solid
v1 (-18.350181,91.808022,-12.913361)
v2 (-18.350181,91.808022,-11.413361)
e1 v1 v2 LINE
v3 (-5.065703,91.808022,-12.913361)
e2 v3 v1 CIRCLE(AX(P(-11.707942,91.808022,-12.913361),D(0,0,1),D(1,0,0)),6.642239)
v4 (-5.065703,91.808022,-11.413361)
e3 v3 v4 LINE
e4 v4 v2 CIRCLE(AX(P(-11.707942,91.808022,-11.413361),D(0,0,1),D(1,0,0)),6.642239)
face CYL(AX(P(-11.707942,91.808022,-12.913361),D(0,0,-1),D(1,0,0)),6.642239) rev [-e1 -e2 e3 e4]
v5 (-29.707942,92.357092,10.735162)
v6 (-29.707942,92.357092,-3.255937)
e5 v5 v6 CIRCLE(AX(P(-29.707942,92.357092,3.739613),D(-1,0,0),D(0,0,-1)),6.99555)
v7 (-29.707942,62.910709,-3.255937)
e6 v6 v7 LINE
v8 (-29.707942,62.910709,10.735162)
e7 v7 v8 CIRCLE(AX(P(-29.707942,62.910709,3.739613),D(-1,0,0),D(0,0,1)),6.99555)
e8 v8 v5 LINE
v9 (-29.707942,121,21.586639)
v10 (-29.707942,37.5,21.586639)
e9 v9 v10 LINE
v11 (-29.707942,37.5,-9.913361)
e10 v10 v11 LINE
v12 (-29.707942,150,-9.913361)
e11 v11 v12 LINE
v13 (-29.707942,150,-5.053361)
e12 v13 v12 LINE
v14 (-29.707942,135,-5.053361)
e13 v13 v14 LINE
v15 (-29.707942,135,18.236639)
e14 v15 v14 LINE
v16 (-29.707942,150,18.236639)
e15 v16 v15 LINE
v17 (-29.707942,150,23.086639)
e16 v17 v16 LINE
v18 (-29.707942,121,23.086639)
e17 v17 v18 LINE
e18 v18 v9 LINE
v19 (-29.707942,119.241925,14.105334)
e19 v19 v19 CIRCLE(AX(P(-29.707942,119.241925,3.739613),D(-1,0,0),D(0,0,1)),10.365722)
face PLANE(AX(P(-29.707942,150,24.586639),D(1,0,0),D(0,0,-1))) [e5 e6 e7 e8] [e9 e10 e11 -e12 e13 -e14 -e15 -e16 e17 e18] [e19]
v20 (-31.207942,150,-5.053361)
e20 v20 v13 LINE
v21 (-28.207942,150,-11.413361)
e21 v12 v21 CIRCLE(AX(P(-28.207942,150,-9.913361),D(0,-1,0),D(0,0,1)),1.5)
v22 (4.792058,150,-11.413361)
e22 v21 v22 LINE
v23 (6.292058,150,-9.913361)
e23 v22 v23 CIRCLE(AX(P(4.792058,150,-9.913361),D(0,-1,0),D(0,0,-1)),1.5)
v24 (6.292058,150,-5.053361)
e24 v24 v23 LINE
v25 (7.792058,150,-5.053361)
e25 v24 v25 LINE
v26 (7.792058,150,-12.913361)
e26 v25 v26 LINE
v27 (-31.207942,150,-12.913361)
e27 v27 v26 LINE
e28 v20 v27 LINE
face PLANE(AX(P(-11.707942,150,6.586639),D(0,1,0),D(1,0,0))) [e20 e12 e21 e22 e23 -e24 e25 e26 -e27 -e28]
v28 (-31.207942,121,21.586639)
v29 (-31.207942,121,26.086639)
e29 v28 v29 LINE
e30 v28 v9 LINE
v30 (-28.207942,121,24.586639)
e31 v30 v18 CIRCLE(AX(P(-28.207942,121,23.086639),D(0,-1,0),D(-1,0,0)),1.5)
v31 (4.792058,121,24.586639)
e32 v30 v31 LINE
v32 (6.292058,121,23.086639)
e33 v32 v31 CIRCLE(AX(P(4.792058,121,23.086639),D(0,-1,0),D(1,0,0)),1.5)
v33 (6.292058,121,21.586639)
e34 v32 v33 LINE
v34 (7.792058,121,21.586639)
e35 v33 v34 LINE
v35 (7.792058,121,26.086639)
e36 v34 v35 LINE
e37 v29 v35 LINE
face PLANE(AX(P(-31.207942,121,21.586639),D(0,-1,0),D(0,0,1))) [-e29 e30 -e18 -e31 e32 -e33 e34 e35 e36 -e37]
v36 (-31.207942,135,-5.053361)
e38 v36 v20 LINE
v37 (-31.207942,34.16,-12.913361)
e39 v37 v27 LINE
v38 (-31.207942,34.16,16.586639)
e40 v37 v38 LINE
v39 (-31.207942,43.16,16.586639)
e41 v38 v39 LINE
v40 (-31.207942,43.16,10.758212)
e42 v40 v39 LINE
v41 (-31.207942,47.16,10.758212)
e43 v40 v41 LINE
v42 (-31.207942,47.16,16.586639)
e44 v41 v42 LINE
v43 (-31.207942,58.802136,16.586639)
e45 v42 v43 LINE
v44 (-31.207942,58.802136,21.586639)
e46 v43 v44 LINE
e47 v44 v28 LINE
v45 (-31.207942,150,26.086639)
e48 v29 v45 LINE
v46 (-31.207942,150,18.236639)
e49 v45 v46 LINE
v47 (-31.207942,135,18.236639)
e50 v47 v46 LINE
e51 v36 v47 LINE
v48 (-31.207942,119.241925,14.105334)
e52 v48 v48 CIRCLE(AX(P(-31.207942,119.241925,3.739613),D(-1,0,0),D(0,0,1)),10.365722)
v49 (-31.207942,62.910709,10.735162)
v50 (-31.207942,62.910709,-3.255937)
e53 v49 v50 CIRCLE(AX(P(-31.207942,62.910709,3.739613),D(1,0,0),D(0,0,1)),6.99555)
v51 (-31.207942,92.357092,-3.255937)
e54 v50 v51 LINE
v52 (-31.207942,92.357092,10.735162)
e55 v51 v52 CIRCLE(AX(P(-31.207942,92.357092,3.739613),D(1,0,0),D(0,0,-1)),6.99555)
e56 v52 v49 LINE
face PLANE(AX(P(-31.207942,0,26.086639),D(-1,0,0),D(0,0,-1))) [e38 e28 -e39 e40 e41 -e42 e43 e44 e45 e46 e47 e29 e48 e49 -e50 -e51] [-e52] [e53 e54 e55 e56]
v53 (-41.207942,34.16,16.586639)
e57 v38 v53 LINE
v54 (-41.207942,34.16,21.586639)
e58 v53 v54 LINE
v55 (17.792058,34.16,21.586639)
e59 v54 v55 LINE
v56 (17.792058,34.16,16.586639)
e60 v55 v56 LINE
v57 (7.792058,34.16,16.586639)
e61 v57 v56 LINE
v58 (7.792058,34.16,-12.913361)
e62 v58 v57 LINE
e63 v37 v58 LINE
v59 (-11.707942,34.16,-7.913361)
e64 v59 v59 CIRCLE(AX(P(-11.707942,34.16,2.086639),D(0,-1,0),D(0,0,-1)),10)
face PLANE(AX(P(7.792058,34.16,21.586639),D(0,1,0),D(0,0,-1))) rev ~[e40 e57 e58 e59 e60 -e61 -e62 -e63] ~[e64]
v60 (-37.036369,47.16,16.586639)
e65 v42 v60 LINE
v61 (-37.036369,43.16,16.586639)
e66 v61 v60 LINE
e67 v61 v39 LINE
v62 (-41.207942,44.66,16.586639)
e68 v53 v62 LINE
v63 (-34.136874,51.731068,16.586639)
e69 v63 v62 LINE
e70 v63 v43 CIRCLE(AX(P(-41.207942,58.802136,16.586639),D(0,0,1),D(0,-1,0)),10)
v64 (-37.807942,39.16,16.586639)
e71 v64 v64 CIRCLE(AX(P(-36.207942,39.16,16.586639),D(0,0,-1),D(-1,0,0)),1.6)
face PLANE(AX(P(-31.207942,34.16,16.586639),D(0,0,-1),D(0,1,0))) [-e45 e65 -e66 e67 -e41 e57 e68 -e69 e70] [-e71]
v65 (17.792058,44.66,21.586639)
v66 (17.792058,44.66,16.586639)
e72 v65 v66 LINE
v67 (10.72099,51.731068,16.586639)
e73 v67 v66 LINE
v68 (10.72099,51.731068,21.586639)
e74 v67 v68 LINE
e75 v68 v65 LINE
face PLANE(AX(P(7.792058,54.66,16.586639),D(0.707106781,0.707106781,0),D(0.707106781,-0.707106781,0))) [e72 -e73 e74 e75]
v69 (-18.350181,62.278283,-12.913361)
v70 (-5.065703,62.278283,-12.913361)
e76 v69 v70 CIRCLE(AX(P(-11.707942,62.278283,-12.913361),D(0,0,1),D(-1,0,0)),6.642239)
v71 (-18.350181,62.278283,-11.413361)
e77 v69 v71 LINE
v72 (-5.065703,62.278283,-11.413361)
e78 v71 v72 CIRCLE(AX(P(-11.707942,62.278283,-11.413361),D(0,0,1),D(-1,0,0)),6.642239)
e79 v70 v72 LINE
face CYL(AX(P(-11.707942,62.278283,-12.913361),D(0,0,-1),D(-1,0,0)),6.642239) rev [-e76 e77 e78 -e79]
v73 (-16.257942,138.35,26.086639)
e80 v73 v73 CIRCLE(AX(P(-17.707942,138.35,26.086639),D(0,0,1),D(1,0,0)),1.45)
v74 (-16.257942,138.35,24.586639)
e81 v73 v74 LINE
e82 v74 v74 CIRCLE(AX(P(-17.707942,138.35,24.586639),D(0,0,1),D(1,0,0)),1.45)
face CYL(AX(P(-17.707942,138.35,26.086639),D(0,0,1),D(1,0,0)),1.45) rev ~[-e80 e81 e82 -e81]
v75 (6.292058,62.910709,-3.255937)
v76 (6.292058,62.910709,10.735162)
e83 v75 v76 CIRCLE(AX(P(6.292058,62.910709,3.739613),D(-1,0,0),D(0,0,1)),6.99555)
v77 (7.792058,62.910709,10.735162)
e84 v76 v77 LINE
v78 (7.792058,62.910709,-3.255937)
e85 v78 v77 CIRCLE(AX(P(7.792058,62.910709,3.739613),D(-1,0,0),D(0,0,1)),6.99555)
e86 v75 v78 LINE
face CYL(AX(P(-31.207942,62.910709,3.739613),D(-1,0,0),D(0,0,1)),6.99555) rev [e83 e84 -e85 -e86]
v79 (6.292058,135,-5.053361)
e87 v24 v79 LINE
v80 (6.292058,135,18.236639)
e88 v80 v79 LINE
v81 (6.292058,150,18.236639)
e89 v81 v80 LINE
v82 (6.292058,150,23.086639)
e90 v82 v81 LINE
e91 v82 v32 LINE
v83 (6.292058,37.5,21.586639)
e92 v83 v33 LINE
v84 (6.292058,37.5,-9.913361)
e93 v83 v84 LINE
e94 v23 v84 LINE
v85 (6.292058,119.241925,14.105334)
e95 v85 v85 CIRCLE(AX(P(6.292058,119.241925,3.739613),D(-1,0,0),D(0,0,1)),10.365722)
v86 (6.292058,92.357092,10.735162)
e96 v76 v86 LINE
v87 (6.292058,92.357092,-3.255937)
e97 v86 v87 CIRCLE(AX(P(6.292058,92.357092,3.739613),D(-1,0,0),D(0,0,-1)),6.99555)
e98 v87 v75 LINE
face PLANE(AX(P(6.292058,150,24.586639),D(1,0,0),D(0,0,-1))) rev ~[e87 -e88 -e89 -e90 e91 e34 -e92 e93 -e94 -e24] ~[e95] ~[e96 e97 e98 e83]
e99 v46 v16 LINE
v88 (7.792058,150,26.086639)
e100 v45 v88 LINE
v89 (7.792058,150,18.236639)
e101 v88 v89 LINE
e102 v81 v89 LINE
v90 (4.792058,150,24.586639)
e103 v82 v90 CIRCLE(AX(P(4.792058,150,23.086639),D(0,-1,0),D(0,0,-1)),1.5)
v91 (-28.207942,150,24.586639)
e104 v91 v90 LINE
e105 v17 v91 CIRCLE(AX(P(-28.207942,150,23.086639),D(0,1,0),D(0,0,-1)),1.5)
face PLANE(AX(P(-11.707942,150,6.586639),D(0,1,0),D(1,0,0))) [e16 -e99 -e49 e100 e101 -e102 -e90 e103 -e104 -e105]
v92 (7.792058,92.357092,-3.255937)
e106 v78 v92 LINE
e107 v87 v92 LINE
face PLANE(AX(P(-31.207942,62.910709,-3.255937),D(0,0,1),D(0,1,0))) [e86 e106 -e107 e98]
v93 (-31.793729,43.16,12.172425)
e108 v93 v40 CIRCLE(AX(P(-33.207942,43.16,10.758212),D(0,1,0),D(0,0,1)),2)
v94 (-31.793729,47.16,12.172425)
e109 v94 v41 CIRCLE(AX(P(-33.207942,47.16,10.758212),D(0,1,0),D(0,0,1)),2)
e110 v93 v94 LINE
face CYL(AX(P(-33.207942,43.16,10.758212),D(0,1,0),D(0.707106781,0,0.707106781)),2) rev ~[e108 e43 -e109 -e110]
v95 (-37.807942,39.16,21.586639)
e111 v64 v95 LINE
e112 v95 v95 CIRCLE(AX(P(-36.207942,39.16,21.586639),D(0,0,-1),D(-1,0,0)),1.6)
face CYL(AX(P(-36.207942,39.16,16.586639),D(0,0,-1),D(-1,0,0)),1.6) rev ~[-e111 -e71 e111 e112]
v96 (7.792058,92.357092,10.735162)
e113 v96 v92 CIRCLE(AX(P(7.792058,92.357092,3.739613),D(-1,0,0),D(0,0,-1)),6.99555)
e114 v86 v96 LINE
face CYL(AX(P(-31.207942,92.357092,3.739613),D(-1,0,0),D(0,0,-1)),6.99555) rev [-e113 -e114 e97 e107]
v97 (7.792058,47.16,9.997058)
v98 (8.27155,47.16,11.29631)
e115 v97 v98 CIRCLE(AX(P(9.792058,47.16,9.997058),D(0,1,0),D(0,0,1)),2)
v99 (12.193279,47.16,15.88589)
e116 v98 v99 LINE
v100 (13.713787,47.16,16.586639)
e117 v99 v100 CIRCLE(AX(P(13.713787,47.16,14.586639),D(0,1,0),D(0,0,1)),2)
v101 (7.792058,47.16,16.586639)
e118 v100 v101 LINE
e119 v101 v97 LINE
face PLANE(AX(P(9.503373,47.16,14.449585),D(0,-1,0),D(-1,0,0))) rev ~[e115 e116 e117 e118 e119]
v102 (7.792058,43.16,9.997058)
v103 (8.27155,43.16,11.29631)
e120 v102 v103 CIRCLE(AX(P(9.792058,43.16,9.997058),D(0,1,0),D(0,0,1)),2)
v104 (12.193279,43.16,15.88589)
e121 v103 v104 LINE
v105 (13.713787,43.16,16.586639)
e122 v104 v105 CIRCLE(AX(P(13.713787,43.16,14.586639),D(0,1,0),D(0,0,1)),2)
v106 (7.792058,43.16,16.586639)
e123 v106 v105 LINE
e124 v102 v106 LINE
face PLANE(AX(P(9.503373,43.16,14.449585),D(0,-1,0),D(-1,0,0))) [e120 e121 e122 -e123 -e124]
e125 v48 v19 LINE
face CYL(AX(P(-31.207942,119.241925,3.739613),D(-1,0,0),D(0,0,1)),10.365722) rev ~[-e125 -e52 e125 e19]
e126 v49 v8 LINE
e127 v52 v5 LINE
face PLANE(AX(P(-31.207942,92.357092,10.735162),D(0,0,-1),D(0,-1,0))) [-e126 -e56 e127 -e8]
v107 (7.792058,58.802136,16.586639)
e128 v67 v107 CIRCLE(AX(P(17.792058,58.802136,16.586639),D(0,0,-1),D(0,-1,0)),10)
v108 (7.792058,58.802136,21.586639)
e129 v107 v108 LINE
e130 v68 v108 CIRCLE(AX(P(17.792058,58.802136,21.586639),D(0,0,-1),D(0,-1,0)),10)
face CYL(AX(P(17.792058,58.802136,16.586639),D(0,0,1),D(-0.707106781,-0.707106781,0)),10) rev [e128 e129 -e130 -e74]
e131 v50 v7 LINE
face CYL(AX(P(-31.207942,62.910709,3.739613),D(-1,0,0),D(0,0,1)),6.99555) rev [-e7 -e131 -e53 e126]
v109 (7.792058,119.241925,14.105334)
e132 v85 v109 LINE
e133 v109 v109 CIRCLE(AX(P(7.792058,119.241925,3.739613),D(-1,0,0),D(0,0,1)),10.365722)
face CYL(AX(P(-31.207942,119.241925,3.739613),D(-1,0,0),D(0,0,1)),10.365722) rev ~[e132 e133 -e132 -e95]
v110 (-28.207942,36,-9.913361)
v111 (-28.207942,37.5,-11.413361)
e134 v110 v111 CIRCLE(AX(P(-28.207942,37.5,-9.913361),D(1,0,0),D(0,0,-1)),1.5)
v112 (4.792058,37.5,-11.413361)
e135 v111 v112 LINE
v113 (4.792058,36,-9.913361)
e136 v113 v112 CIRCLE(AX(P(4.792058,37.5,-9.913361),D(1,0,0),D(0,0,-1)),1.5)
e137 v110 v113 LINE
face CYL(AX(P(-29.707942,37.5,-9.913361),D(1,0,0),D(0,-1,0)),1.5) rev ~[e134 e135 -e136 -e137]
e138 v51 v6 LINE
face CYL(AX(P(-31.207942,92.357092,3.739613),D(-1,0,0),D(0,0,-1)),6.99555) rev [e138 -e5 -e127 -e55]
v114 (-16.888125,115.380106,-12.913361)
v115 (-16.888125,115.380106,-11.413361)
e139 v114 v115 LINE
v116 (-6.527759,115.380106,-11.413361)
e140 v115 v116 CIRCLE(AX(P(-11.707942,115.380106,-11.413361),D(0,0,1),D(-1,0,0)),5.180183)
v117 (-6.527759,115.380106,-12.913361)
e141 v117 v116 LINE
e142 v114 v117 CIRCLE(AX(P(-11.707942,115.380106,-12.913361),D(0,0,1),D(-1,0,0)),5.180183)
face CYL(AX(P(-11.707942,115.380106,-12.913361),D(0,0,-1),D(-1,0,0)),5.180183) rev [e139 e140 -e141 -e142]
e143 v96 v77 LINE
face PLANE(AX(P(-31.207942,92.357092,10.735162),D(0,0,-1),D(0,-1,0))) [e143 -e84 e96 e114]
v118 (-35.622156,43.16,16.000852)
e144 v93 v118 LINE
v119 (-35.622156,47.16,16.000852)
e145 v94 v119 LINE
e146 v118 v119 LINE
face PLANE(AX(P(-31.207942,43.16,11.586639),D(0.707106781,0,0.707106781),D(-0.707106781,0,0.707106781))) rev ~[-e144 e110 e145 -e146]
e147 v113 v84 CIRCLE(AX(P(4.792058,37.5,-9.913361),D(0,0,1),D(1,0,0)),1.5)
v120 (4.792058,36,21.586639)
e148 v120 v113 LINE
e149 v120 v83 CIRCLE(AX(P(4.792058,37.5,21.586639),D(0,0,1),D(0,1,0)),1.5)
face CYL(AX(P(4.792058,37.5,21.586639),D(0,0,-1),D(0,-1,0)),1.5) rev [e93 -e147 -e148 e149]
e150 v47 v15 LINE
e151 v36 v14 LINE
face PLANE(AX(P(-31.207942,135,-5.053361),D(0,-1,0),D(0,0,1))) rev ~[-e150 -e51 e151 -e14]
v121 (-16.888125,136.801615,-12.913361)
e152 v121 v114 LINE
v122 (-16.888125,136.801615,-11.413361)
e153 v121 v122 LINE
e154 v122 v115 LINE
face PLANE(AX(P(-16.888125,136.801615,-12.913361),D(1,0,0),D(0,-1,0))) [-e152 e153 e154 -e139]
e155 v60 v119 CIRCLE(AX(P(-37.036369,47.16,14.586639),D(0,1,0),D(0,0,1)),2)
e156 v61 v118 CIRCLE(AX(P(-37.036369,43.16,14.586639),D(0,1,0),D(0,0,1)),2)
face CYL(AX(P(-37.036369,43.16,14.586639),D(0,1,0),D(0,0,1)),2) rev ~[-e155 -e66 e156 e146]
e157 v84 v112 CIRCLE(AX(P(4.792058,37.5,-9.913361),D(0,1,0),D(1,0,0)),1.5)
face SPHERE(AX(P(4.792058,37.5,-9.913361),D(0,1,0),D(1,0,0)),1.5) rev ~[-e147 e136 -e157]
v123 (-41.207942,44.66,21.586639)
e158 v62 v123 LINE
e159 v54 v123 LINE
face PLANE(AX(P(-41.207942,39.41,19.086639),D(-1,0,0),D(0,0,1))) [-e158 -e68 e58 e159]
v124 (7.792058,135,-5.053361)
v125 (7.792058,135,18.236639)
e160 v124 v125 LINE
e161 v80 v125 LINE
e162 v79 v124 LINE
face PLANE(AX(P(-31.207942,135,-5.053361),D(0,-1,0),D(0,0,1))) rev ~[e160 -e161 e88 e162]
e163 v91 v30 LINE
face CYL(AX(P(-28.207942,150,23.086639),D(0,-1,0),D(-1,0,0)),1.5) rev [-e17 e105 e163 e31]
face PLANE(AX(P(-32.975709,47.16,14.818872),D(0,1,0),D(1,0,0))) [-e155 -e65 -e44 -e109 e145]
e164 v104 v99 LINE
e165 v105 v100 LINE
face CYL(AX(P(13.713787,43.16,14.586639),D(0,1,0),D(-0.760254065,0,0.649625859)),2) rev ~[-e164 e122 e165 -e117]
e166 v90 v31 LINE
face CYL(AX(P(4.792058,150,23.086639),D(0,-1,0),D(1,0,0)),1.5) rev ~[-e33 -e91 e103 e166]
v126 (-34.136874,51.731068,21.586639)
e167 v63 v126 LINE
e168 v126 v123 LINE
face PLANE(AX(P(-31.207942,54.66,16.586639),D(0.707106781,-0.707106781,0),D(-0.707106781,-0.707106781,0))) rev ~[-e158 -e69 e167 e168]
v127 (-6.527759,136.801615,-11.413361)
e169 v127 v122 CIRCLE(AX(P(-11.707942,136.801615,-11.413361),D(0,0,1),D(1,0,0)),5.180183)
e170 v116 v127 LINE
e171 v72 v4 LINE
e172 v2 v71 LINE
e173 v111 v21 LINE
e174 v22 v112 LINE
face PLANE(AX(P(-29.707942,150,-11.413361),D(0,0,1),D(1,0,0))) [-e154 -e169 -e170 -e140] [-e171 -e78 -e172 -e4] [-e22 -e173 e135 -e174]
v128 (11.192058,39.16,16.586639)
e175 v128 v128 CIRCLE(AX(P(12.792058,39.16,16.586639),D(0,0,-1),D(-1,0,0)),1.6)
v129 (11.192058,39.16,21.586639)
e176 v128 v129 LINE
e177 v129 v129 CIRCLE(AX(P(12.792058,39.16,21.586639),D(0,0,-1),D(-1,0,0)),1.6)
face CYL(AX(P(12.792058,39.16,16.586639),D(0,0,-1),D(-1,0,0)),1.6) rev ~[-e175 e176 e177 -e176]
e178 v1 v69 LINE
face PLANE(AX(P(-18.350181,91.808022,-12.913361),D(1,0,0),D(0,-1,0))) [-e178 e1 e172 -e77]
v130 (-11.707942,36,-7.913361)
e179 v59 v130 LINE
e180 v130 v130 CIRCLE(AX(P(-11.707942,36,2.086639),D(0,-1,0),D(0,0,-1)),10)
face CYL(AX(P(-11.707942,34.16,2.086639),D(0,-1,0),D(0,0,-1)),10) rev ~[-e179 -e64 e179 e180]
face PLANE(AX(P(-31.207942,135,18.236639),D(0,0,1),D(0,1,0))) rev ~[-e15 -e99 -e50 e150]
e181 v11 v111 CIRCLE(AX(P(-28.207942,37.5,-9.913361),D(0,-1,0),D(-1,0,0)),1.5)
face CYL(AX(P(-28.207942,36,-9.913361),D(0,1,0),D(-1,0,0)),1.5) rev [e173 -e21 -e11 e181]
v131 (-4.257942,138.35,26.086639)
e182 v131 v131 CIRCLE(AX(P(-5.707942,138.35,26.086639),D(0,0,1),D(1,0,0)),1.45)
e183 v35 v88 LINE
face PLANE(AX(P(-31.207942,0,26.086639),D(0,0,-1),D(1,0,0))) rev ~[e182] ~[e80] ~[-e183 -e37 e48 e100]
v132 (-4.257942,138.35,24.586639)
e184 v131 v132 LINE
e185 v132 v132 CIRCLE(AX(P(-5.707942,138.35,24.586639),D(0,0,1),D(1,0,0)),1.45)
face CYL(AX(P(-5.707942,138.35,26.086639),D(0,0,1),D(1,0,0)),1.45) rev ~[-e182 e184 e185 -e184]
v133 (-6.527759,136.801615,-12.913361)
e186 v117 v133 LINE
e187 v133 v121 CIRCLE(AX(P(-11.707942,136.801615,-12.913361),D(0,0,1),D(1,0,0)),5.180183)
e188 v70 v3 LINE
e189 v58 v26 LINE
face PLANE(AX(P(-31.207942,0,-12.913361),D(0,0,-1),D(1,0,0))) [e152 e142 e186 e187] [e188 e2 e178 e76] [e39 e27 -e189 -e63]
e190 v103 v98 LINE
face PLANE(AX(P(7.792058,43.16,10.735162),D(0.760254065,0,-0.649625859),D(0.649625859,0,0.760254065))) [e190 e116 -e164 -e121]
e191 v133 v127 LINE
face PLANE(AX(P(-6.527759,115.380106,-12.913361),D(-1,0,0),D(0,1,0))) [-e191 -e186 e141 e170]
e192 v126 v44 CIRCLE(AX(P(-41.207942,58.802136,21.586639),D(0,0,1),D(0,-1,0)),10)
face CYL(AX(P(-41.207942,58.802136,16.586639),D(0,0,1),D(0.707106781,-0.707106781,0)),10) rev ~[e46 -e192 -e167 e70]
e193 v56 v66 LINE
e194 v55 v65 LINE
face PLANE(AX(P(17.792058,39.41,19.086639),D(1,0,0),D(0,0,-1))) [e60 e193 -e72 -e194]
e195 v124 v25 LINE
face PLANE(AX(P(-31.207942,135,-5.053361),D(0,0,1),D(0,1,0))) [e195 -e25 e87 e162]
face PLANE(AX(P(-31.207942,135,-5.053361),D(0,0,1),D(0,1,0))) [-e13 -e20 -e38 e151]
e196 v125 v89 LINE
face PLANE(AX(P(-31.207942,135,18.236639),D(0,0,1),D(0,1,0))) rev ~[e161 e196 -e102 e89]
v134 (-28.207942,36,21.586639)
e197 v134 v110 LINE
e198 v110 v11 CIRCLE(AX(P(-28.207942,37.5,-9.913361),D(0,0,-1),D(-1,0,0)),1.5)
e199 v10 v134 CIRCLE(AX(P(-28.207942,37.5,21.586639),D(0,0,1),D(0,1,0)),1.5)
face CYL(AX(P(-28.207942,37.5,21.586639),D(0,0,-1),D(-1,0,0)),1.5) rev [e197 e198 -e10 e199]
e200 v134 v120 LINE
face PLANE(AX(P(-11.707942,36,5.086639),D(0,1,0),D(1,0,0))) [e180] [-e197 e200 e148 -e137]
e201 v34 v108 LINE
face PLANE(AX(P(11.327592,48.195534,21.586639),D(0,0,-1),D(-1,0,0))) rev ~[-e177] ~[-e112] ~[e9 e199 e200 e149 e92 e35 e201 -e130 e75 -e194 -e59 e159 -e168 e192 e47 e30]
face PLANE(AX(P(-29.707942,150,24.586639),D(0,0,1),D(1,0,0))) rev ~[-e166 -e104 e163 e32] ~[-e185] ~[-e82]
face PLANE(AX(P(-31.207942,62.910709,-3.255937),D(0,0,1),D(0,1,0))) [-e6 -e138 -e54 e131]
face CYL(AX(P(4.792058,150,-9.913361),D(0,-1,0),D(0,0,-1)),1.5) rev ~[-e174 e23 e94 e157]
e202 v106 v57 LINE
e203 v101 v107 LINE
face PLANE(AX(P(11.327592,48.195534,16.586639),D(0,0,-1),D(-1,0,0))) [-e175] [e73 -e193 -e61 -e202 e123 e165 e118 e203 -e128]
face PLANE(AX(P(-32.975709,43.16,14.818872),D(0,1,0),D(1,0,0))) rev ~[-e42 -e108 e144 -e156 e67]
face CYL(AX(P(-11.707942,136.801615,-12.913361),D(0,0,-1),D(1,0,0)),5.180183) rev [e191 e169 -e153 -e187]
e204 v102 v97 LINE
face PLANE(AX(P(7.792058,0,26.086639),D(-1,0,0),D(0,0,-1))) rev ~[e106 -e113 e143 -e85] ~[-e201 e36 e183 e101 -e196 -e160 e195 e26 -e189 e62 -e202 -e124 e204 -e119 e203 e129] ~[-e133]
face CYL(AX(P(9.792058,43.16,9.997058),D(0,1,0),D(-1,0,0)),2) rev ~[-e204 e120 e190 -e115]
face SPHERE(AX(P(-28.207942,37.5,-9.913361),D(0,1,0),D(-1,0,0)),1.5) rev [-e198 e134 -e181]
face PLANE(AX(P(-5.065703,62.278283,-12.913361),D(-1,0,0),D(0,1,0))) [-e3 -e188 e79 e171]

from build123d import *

# Parameters (mm, degrees)
SKETCH1_W       = 39
SKETCH1_H       = 39
EXTRUDE1_DEPTH  = 150
SKETCH2_W       = 36
SKETCH2_H       = 36
EXTRUDE2_DEPTH  = 112
SKETCH3_W       = 4.5
SKETCH3_H       = 120
EXTRUDE3_DEPTH  = 158.167148993
SKETCH8_W       = 36
SKETCH8_H       = 33
EXTRUDE6_DEPTH  = 2
FILLET1_R       = 1.5
SKETCH11_W      = 23.29
SKETCH11_H      = 15
EXTRUDE8_DEPTH  = 158.167148993
EXTRUDE9_DEPTH  = 1.5
SKETCH14_R      = 1.45
EXTRUDE11_DEPTH = 1.5
SKETCH15_R      = 10.365721684
EXTRUDE12_DEPTH = 158.167148993
SKETCH17_W      = 4.5
SKETCH17_H      = 1
EXTRUDE14_DEPTH = 158.167148993
SKETCH18_W      = 34.5
SKETCH18_H      = 34.16
EXTRUDE15_DEPTH = 158.167148993
SKETCH19_W      = 5
SKETCH19_H      = 10.5
EXTRUDE16_DEPTH = 10
SKETCH20_W      = 5
SKETCH20_H      = 10.5
EXTRUDE17_DEPTH = 10
SKETCH21_R      = 1.6
EXTRUDE18_DEPTH = 10
SKETCH22_R      = 1.6
EXTRUDE19_DEPTH = 10
EXTRUDE20_DEPTH = 5
SKETCH25_R      = 10
EXTRUDE21_DEPTH = 5
EXTRUDE23_DEPTH = 4
FILLET2_R       = 10
FILLET3_R       = 2


with BuildPart() as part:
    # Sketch1 → Extrude1 (new body)
    with BuildSketch(Plane(origin=(0, 0, 0), x_dir=(1, 0, 0), z_dir=(0, 1, 0))):
        with Locations((-11.707942094, -6.586638776)):
            Rectangle(SKETCH1_W, SKETCH1_H)
    extrude(amount=EXTRUDE1_DEPTH)

    # Sketch2 → Extrude2 (cut)
    with BuildSketch(Plane(origin=(0, 150, 0), x_dir=(1, 0, 0), z_dir=(0, 1, 0))):
        with Locations((-11.707942094, -6.586638776)):
            Rectangle(SKETCH2_W, SKETCH2_H)
    extrude(amount=-EXTRUDE2_DEPTH, mode=Mode.SUBTRACT)

    # Sketch3 → Extrude3 (cut, through all)
    with BuildSketch(Plane.ZY.offset(31.207942094)):
        with Locations((23.836638776, 60)):
            Rectangle(SKETCH3_W, SKETCH3_H)
    extrude(amount=-EXTRUDE3_DEPTH, mode=Mode.SUBTRACT)

    # Sketch8 → Extrude6 (cut)
    with BuildSketch(Plane(origin=(0, 38, 0), x_dir=(1, 0, 0), z_dir=(0, 1, 0))):
        with Locations((-11.707942094, -5.086638776)):
            Rectangle(SKETCH8_W, SKETCH8_H)
    extrude(amount=-EXTRUDE6_DEPTH, mode=Mode.SUBTRACT)

    # Fillet1
    fillet1_edges = [part.edges().sort_by_distance(p)[0] for p in [
        (-29.707942094, 93, -11.413361224),
        (6.292057906, 93, -11.413361224),
        (6.292057906, 135, 24.586638776),
        (-29.707942094, 135, 24.586638776),
        (6.292057906, 36, 5.086638776),
        (-29.707942094, 36, 5.086638776),
        (-11.707942094, 36, -11.413361224),
    ]]
    fillet(fillet1_edges, radius=FILLET1_R)

    # Sketch11 → Extrude8 (cut, through all)
    with BuildSketch(Plane.ZY.offset(31.207942094)):
        with BuildLine():
            Line((-3.255937041, 62.910708566), (-3.255937041, 92.357092416))
            ThreePointArc((-3.255937041, 92.357092416), (3.739612713, 99.352642171), (10.735162468, 92.357092416))
            Line((10.735162468, 92.357092416), (10.735162468, 62.910708566))
            ThreePointArc((10.735162468, 62.910708566), (3.739612713, 55.915158812), (-3.255937041, 62.910708566))
        make_face()
        with Locations((6.591638776, 142.5)):
            Rectangle(SKETCH11_W, SKETCH11_H)
    extrude(amount=-EXTRUDE8_DEPTH, mode=Mode.SUBTRACT)

    # Sketch12 → Extrude9 (cut)
    with BuildSketch(Plane(origin=(0, 0, -12.913361224), x_dir=(-1, 0, 0), z_dir=(0, 0, -1))):
        with BuildLine():
            Line((5.065703237, 62.27828297), (5.065703237, 91.808021534))
            ThreePointArc((5.065703237, 91.808021534), (11.707942094, 98.450260391), (18.350180951, 91.808021534))
            Line((18.350180951, 91.808021534), (18.350180951, 62.27828297))
            ThreePointArc((18.350180951, 62.27828297), (11.707942094, 55.636044113), (5.065703237, 62.27828297))
        make_face()
        with BuildLine():
            Line((6.527758749, 115.3801061), (6.527758749, 136.80161472))
            ThreePointArc((6.527758749, 136.80161472), (11.707942094, 141.981798065), (16.888125439, 136.80161472))
            Line((16.888125439, 136.80161472), (16.888125439, 115.3801061))
            ThreePointArc((16.888125439, 115.3801061), (11.707942094, 110.199922755), (6.527758749, 115.3801061))
        make_face()
    extrude(amount=-EXTRUDE9_DEPTH, mode=Mode.SUBTRACT)

    # Sketch14 → Extrude11 (cut)
    with BuildSketch(Plane.XY.offset(26.086638776)):
        with Locations((-5.707942094, 138.35)):
            Circle(SKETCH14_R)
        with Locations((-17.707942094, 138.35)):
            Circle(SKETCH14_R)
    extrude(amount=-EXTRUDE11_DEPTH, mode=Mode.SUBTRACT)

    # Sketch15 → Extrude12 (cut, through all)
    with BuildSketch(Plane.ZY.offset(31.207942094)):
        with Locations((3.739612713, 119.241924714)):
            Circle(SKETCH15_R)
    extrude(amount=-EXTRUDE12_DEPTH, mode=Mode.SUBTRACT)

    # Sketch17 → Extrude14 (cut, through all)
    with BuildSketch(Plane.ZY.offset(31.207942094)):
        with Locations((23.836638776, 120.5)):
            Rectangle(SKETCH17_W, SKETCH17_H)
    extrude(amount=-EXTRUDE14_DEPTH, mode=Mode.SUBTRACT)

    # Sketch18 → Extrude15 (cut, through all)
    with BuildSketch(Plane.ZY.offset(31.207942094)):
        with Locations((4.336638776, 17.08)):
            Rectangle(SKETCH18_W, SKETCH18_H)
    extrude(amount=-EXTRUDE15_DEPTH, mode=Mode.SUBTRACT)

    # Sketch19 → Extrude16 (add)
    with BuildSketch(Plane.ZY.offset(31.207942094)):
        with Locations((19.086638776, 39.41)):
            Rectangle(SKETCH19_W, SKETCH19_H)
    extrude(amount=EXTRUDE16_DEPTH)

    # Sketch20 → Extrude17 (add)
    with BuildSketch(Plane(origin=(7.792057906, 0, 0), x_dir=(0, 0, -1), z_dir=(1, 0, 0))):
        with Locations((-19.086638776, 39.41)):
            Rectangle(SKETCH20_W, SKETCH20_H)
    extrude(amount=EXTRUDE17_DEPTH)

    # Sketch21 → Extrude18 (cut)
    with BuildSketch(Plane(origin=(0, 0, 16.586638776), x_dir=(-1, 0, 0), z_dir=(0, 0, -1))):
        with Locations((-12.792057906, 39.16)):
            Circle(SKETCH21_R)
    extrude(amount=-EXTRUDE18_DEPTH, mode=Mode.SUBTRACT)

    # Sketch22 → Extrude19 (cut)
    with BuildSketch(Plane(origin=(0, 0, 16.586638776), x_dir=(-1, 0, 0), z_dir=(0, 0, -1))):
        with Locations((36.207942094, 39.16)):
            Circle(SKETCH22_R)
    extrude(amount=-EXTRUDE19_DEPTH, mode=Mode.SUBTRACT)

    # Sketch24 → Extrude20 (add)
    with BuildSketch(Plane(origin=(0, 0, 16.586638776), x_dir=(-1, 0, 0), z_dir=(0, 0, -1))):
        Polygon((-17.792057906, 44.66), (-7.792057906, 44.66), (-7.792057906, 54.66), align=None)
        Polygon((41.207942094, 44.66), (31.207942094, 44.66), (31.207942094, 54.66), align=None)
    extrude(amount=-EXTRUDE20_DEPTH)

    # Sketch25 → Extrude21 (cut)
    with BuildSketch(Plane(origin=(0, 34.16, 0), x_dir=(-1, 0, 0), z_dir=(0, -1, 0))):
        with Locations(Location((11.707942094, -2.086638776, 0), (0, 0, 90))):
            Circle(SKETCH25_R)
    extrude(amount=-EXTRUDE21_DEPTH, mode=Mode.SUBTRACT)

    # Sketch31 → Extrude23 (add)
    with BuildSketch(Plane(origin=(0, 43.16, 0), x_dir=(-1, 0, 0), z_dir=(0, -1, 0))):
        Polygon((-12.792057906, -16.586638776), (-7.792057906, -16.586638776), (-7.792057906, -10.735162468), align=None)
        Polygon((36.207942094, -16.586638776), (31.207942094, -16.586638776), (31.207942094, -11.586638776), align=None)
    extrude(amount=-EXTRUDE23_DEPTH)

    # Fillet2
    fillet2_edges = [part.edges().sort_by_distance(p)[0] for p in [
        (7.792057906, 54.66, 19.086638776),
        (-31.207942094, 54.66, 19.086638776),
    ]]
    fillet(fillet2_edges, radius=FILLET2_R)

    # Fillet3
    fillet3_edges = [part.edges().sort_by_distance(p)[0] for p in [
        (7.792057906, 45.16, 10.735162468),
        (12.792057906, 45.16, 16.586638776),
        (-31.207942094, 45.16, 11.586638776),
        (-36.207942094, 45.16, 16.586638776),
    ]]
    fillet(fillet3_edges, radius=FILLET3_R)


solid = part.part
